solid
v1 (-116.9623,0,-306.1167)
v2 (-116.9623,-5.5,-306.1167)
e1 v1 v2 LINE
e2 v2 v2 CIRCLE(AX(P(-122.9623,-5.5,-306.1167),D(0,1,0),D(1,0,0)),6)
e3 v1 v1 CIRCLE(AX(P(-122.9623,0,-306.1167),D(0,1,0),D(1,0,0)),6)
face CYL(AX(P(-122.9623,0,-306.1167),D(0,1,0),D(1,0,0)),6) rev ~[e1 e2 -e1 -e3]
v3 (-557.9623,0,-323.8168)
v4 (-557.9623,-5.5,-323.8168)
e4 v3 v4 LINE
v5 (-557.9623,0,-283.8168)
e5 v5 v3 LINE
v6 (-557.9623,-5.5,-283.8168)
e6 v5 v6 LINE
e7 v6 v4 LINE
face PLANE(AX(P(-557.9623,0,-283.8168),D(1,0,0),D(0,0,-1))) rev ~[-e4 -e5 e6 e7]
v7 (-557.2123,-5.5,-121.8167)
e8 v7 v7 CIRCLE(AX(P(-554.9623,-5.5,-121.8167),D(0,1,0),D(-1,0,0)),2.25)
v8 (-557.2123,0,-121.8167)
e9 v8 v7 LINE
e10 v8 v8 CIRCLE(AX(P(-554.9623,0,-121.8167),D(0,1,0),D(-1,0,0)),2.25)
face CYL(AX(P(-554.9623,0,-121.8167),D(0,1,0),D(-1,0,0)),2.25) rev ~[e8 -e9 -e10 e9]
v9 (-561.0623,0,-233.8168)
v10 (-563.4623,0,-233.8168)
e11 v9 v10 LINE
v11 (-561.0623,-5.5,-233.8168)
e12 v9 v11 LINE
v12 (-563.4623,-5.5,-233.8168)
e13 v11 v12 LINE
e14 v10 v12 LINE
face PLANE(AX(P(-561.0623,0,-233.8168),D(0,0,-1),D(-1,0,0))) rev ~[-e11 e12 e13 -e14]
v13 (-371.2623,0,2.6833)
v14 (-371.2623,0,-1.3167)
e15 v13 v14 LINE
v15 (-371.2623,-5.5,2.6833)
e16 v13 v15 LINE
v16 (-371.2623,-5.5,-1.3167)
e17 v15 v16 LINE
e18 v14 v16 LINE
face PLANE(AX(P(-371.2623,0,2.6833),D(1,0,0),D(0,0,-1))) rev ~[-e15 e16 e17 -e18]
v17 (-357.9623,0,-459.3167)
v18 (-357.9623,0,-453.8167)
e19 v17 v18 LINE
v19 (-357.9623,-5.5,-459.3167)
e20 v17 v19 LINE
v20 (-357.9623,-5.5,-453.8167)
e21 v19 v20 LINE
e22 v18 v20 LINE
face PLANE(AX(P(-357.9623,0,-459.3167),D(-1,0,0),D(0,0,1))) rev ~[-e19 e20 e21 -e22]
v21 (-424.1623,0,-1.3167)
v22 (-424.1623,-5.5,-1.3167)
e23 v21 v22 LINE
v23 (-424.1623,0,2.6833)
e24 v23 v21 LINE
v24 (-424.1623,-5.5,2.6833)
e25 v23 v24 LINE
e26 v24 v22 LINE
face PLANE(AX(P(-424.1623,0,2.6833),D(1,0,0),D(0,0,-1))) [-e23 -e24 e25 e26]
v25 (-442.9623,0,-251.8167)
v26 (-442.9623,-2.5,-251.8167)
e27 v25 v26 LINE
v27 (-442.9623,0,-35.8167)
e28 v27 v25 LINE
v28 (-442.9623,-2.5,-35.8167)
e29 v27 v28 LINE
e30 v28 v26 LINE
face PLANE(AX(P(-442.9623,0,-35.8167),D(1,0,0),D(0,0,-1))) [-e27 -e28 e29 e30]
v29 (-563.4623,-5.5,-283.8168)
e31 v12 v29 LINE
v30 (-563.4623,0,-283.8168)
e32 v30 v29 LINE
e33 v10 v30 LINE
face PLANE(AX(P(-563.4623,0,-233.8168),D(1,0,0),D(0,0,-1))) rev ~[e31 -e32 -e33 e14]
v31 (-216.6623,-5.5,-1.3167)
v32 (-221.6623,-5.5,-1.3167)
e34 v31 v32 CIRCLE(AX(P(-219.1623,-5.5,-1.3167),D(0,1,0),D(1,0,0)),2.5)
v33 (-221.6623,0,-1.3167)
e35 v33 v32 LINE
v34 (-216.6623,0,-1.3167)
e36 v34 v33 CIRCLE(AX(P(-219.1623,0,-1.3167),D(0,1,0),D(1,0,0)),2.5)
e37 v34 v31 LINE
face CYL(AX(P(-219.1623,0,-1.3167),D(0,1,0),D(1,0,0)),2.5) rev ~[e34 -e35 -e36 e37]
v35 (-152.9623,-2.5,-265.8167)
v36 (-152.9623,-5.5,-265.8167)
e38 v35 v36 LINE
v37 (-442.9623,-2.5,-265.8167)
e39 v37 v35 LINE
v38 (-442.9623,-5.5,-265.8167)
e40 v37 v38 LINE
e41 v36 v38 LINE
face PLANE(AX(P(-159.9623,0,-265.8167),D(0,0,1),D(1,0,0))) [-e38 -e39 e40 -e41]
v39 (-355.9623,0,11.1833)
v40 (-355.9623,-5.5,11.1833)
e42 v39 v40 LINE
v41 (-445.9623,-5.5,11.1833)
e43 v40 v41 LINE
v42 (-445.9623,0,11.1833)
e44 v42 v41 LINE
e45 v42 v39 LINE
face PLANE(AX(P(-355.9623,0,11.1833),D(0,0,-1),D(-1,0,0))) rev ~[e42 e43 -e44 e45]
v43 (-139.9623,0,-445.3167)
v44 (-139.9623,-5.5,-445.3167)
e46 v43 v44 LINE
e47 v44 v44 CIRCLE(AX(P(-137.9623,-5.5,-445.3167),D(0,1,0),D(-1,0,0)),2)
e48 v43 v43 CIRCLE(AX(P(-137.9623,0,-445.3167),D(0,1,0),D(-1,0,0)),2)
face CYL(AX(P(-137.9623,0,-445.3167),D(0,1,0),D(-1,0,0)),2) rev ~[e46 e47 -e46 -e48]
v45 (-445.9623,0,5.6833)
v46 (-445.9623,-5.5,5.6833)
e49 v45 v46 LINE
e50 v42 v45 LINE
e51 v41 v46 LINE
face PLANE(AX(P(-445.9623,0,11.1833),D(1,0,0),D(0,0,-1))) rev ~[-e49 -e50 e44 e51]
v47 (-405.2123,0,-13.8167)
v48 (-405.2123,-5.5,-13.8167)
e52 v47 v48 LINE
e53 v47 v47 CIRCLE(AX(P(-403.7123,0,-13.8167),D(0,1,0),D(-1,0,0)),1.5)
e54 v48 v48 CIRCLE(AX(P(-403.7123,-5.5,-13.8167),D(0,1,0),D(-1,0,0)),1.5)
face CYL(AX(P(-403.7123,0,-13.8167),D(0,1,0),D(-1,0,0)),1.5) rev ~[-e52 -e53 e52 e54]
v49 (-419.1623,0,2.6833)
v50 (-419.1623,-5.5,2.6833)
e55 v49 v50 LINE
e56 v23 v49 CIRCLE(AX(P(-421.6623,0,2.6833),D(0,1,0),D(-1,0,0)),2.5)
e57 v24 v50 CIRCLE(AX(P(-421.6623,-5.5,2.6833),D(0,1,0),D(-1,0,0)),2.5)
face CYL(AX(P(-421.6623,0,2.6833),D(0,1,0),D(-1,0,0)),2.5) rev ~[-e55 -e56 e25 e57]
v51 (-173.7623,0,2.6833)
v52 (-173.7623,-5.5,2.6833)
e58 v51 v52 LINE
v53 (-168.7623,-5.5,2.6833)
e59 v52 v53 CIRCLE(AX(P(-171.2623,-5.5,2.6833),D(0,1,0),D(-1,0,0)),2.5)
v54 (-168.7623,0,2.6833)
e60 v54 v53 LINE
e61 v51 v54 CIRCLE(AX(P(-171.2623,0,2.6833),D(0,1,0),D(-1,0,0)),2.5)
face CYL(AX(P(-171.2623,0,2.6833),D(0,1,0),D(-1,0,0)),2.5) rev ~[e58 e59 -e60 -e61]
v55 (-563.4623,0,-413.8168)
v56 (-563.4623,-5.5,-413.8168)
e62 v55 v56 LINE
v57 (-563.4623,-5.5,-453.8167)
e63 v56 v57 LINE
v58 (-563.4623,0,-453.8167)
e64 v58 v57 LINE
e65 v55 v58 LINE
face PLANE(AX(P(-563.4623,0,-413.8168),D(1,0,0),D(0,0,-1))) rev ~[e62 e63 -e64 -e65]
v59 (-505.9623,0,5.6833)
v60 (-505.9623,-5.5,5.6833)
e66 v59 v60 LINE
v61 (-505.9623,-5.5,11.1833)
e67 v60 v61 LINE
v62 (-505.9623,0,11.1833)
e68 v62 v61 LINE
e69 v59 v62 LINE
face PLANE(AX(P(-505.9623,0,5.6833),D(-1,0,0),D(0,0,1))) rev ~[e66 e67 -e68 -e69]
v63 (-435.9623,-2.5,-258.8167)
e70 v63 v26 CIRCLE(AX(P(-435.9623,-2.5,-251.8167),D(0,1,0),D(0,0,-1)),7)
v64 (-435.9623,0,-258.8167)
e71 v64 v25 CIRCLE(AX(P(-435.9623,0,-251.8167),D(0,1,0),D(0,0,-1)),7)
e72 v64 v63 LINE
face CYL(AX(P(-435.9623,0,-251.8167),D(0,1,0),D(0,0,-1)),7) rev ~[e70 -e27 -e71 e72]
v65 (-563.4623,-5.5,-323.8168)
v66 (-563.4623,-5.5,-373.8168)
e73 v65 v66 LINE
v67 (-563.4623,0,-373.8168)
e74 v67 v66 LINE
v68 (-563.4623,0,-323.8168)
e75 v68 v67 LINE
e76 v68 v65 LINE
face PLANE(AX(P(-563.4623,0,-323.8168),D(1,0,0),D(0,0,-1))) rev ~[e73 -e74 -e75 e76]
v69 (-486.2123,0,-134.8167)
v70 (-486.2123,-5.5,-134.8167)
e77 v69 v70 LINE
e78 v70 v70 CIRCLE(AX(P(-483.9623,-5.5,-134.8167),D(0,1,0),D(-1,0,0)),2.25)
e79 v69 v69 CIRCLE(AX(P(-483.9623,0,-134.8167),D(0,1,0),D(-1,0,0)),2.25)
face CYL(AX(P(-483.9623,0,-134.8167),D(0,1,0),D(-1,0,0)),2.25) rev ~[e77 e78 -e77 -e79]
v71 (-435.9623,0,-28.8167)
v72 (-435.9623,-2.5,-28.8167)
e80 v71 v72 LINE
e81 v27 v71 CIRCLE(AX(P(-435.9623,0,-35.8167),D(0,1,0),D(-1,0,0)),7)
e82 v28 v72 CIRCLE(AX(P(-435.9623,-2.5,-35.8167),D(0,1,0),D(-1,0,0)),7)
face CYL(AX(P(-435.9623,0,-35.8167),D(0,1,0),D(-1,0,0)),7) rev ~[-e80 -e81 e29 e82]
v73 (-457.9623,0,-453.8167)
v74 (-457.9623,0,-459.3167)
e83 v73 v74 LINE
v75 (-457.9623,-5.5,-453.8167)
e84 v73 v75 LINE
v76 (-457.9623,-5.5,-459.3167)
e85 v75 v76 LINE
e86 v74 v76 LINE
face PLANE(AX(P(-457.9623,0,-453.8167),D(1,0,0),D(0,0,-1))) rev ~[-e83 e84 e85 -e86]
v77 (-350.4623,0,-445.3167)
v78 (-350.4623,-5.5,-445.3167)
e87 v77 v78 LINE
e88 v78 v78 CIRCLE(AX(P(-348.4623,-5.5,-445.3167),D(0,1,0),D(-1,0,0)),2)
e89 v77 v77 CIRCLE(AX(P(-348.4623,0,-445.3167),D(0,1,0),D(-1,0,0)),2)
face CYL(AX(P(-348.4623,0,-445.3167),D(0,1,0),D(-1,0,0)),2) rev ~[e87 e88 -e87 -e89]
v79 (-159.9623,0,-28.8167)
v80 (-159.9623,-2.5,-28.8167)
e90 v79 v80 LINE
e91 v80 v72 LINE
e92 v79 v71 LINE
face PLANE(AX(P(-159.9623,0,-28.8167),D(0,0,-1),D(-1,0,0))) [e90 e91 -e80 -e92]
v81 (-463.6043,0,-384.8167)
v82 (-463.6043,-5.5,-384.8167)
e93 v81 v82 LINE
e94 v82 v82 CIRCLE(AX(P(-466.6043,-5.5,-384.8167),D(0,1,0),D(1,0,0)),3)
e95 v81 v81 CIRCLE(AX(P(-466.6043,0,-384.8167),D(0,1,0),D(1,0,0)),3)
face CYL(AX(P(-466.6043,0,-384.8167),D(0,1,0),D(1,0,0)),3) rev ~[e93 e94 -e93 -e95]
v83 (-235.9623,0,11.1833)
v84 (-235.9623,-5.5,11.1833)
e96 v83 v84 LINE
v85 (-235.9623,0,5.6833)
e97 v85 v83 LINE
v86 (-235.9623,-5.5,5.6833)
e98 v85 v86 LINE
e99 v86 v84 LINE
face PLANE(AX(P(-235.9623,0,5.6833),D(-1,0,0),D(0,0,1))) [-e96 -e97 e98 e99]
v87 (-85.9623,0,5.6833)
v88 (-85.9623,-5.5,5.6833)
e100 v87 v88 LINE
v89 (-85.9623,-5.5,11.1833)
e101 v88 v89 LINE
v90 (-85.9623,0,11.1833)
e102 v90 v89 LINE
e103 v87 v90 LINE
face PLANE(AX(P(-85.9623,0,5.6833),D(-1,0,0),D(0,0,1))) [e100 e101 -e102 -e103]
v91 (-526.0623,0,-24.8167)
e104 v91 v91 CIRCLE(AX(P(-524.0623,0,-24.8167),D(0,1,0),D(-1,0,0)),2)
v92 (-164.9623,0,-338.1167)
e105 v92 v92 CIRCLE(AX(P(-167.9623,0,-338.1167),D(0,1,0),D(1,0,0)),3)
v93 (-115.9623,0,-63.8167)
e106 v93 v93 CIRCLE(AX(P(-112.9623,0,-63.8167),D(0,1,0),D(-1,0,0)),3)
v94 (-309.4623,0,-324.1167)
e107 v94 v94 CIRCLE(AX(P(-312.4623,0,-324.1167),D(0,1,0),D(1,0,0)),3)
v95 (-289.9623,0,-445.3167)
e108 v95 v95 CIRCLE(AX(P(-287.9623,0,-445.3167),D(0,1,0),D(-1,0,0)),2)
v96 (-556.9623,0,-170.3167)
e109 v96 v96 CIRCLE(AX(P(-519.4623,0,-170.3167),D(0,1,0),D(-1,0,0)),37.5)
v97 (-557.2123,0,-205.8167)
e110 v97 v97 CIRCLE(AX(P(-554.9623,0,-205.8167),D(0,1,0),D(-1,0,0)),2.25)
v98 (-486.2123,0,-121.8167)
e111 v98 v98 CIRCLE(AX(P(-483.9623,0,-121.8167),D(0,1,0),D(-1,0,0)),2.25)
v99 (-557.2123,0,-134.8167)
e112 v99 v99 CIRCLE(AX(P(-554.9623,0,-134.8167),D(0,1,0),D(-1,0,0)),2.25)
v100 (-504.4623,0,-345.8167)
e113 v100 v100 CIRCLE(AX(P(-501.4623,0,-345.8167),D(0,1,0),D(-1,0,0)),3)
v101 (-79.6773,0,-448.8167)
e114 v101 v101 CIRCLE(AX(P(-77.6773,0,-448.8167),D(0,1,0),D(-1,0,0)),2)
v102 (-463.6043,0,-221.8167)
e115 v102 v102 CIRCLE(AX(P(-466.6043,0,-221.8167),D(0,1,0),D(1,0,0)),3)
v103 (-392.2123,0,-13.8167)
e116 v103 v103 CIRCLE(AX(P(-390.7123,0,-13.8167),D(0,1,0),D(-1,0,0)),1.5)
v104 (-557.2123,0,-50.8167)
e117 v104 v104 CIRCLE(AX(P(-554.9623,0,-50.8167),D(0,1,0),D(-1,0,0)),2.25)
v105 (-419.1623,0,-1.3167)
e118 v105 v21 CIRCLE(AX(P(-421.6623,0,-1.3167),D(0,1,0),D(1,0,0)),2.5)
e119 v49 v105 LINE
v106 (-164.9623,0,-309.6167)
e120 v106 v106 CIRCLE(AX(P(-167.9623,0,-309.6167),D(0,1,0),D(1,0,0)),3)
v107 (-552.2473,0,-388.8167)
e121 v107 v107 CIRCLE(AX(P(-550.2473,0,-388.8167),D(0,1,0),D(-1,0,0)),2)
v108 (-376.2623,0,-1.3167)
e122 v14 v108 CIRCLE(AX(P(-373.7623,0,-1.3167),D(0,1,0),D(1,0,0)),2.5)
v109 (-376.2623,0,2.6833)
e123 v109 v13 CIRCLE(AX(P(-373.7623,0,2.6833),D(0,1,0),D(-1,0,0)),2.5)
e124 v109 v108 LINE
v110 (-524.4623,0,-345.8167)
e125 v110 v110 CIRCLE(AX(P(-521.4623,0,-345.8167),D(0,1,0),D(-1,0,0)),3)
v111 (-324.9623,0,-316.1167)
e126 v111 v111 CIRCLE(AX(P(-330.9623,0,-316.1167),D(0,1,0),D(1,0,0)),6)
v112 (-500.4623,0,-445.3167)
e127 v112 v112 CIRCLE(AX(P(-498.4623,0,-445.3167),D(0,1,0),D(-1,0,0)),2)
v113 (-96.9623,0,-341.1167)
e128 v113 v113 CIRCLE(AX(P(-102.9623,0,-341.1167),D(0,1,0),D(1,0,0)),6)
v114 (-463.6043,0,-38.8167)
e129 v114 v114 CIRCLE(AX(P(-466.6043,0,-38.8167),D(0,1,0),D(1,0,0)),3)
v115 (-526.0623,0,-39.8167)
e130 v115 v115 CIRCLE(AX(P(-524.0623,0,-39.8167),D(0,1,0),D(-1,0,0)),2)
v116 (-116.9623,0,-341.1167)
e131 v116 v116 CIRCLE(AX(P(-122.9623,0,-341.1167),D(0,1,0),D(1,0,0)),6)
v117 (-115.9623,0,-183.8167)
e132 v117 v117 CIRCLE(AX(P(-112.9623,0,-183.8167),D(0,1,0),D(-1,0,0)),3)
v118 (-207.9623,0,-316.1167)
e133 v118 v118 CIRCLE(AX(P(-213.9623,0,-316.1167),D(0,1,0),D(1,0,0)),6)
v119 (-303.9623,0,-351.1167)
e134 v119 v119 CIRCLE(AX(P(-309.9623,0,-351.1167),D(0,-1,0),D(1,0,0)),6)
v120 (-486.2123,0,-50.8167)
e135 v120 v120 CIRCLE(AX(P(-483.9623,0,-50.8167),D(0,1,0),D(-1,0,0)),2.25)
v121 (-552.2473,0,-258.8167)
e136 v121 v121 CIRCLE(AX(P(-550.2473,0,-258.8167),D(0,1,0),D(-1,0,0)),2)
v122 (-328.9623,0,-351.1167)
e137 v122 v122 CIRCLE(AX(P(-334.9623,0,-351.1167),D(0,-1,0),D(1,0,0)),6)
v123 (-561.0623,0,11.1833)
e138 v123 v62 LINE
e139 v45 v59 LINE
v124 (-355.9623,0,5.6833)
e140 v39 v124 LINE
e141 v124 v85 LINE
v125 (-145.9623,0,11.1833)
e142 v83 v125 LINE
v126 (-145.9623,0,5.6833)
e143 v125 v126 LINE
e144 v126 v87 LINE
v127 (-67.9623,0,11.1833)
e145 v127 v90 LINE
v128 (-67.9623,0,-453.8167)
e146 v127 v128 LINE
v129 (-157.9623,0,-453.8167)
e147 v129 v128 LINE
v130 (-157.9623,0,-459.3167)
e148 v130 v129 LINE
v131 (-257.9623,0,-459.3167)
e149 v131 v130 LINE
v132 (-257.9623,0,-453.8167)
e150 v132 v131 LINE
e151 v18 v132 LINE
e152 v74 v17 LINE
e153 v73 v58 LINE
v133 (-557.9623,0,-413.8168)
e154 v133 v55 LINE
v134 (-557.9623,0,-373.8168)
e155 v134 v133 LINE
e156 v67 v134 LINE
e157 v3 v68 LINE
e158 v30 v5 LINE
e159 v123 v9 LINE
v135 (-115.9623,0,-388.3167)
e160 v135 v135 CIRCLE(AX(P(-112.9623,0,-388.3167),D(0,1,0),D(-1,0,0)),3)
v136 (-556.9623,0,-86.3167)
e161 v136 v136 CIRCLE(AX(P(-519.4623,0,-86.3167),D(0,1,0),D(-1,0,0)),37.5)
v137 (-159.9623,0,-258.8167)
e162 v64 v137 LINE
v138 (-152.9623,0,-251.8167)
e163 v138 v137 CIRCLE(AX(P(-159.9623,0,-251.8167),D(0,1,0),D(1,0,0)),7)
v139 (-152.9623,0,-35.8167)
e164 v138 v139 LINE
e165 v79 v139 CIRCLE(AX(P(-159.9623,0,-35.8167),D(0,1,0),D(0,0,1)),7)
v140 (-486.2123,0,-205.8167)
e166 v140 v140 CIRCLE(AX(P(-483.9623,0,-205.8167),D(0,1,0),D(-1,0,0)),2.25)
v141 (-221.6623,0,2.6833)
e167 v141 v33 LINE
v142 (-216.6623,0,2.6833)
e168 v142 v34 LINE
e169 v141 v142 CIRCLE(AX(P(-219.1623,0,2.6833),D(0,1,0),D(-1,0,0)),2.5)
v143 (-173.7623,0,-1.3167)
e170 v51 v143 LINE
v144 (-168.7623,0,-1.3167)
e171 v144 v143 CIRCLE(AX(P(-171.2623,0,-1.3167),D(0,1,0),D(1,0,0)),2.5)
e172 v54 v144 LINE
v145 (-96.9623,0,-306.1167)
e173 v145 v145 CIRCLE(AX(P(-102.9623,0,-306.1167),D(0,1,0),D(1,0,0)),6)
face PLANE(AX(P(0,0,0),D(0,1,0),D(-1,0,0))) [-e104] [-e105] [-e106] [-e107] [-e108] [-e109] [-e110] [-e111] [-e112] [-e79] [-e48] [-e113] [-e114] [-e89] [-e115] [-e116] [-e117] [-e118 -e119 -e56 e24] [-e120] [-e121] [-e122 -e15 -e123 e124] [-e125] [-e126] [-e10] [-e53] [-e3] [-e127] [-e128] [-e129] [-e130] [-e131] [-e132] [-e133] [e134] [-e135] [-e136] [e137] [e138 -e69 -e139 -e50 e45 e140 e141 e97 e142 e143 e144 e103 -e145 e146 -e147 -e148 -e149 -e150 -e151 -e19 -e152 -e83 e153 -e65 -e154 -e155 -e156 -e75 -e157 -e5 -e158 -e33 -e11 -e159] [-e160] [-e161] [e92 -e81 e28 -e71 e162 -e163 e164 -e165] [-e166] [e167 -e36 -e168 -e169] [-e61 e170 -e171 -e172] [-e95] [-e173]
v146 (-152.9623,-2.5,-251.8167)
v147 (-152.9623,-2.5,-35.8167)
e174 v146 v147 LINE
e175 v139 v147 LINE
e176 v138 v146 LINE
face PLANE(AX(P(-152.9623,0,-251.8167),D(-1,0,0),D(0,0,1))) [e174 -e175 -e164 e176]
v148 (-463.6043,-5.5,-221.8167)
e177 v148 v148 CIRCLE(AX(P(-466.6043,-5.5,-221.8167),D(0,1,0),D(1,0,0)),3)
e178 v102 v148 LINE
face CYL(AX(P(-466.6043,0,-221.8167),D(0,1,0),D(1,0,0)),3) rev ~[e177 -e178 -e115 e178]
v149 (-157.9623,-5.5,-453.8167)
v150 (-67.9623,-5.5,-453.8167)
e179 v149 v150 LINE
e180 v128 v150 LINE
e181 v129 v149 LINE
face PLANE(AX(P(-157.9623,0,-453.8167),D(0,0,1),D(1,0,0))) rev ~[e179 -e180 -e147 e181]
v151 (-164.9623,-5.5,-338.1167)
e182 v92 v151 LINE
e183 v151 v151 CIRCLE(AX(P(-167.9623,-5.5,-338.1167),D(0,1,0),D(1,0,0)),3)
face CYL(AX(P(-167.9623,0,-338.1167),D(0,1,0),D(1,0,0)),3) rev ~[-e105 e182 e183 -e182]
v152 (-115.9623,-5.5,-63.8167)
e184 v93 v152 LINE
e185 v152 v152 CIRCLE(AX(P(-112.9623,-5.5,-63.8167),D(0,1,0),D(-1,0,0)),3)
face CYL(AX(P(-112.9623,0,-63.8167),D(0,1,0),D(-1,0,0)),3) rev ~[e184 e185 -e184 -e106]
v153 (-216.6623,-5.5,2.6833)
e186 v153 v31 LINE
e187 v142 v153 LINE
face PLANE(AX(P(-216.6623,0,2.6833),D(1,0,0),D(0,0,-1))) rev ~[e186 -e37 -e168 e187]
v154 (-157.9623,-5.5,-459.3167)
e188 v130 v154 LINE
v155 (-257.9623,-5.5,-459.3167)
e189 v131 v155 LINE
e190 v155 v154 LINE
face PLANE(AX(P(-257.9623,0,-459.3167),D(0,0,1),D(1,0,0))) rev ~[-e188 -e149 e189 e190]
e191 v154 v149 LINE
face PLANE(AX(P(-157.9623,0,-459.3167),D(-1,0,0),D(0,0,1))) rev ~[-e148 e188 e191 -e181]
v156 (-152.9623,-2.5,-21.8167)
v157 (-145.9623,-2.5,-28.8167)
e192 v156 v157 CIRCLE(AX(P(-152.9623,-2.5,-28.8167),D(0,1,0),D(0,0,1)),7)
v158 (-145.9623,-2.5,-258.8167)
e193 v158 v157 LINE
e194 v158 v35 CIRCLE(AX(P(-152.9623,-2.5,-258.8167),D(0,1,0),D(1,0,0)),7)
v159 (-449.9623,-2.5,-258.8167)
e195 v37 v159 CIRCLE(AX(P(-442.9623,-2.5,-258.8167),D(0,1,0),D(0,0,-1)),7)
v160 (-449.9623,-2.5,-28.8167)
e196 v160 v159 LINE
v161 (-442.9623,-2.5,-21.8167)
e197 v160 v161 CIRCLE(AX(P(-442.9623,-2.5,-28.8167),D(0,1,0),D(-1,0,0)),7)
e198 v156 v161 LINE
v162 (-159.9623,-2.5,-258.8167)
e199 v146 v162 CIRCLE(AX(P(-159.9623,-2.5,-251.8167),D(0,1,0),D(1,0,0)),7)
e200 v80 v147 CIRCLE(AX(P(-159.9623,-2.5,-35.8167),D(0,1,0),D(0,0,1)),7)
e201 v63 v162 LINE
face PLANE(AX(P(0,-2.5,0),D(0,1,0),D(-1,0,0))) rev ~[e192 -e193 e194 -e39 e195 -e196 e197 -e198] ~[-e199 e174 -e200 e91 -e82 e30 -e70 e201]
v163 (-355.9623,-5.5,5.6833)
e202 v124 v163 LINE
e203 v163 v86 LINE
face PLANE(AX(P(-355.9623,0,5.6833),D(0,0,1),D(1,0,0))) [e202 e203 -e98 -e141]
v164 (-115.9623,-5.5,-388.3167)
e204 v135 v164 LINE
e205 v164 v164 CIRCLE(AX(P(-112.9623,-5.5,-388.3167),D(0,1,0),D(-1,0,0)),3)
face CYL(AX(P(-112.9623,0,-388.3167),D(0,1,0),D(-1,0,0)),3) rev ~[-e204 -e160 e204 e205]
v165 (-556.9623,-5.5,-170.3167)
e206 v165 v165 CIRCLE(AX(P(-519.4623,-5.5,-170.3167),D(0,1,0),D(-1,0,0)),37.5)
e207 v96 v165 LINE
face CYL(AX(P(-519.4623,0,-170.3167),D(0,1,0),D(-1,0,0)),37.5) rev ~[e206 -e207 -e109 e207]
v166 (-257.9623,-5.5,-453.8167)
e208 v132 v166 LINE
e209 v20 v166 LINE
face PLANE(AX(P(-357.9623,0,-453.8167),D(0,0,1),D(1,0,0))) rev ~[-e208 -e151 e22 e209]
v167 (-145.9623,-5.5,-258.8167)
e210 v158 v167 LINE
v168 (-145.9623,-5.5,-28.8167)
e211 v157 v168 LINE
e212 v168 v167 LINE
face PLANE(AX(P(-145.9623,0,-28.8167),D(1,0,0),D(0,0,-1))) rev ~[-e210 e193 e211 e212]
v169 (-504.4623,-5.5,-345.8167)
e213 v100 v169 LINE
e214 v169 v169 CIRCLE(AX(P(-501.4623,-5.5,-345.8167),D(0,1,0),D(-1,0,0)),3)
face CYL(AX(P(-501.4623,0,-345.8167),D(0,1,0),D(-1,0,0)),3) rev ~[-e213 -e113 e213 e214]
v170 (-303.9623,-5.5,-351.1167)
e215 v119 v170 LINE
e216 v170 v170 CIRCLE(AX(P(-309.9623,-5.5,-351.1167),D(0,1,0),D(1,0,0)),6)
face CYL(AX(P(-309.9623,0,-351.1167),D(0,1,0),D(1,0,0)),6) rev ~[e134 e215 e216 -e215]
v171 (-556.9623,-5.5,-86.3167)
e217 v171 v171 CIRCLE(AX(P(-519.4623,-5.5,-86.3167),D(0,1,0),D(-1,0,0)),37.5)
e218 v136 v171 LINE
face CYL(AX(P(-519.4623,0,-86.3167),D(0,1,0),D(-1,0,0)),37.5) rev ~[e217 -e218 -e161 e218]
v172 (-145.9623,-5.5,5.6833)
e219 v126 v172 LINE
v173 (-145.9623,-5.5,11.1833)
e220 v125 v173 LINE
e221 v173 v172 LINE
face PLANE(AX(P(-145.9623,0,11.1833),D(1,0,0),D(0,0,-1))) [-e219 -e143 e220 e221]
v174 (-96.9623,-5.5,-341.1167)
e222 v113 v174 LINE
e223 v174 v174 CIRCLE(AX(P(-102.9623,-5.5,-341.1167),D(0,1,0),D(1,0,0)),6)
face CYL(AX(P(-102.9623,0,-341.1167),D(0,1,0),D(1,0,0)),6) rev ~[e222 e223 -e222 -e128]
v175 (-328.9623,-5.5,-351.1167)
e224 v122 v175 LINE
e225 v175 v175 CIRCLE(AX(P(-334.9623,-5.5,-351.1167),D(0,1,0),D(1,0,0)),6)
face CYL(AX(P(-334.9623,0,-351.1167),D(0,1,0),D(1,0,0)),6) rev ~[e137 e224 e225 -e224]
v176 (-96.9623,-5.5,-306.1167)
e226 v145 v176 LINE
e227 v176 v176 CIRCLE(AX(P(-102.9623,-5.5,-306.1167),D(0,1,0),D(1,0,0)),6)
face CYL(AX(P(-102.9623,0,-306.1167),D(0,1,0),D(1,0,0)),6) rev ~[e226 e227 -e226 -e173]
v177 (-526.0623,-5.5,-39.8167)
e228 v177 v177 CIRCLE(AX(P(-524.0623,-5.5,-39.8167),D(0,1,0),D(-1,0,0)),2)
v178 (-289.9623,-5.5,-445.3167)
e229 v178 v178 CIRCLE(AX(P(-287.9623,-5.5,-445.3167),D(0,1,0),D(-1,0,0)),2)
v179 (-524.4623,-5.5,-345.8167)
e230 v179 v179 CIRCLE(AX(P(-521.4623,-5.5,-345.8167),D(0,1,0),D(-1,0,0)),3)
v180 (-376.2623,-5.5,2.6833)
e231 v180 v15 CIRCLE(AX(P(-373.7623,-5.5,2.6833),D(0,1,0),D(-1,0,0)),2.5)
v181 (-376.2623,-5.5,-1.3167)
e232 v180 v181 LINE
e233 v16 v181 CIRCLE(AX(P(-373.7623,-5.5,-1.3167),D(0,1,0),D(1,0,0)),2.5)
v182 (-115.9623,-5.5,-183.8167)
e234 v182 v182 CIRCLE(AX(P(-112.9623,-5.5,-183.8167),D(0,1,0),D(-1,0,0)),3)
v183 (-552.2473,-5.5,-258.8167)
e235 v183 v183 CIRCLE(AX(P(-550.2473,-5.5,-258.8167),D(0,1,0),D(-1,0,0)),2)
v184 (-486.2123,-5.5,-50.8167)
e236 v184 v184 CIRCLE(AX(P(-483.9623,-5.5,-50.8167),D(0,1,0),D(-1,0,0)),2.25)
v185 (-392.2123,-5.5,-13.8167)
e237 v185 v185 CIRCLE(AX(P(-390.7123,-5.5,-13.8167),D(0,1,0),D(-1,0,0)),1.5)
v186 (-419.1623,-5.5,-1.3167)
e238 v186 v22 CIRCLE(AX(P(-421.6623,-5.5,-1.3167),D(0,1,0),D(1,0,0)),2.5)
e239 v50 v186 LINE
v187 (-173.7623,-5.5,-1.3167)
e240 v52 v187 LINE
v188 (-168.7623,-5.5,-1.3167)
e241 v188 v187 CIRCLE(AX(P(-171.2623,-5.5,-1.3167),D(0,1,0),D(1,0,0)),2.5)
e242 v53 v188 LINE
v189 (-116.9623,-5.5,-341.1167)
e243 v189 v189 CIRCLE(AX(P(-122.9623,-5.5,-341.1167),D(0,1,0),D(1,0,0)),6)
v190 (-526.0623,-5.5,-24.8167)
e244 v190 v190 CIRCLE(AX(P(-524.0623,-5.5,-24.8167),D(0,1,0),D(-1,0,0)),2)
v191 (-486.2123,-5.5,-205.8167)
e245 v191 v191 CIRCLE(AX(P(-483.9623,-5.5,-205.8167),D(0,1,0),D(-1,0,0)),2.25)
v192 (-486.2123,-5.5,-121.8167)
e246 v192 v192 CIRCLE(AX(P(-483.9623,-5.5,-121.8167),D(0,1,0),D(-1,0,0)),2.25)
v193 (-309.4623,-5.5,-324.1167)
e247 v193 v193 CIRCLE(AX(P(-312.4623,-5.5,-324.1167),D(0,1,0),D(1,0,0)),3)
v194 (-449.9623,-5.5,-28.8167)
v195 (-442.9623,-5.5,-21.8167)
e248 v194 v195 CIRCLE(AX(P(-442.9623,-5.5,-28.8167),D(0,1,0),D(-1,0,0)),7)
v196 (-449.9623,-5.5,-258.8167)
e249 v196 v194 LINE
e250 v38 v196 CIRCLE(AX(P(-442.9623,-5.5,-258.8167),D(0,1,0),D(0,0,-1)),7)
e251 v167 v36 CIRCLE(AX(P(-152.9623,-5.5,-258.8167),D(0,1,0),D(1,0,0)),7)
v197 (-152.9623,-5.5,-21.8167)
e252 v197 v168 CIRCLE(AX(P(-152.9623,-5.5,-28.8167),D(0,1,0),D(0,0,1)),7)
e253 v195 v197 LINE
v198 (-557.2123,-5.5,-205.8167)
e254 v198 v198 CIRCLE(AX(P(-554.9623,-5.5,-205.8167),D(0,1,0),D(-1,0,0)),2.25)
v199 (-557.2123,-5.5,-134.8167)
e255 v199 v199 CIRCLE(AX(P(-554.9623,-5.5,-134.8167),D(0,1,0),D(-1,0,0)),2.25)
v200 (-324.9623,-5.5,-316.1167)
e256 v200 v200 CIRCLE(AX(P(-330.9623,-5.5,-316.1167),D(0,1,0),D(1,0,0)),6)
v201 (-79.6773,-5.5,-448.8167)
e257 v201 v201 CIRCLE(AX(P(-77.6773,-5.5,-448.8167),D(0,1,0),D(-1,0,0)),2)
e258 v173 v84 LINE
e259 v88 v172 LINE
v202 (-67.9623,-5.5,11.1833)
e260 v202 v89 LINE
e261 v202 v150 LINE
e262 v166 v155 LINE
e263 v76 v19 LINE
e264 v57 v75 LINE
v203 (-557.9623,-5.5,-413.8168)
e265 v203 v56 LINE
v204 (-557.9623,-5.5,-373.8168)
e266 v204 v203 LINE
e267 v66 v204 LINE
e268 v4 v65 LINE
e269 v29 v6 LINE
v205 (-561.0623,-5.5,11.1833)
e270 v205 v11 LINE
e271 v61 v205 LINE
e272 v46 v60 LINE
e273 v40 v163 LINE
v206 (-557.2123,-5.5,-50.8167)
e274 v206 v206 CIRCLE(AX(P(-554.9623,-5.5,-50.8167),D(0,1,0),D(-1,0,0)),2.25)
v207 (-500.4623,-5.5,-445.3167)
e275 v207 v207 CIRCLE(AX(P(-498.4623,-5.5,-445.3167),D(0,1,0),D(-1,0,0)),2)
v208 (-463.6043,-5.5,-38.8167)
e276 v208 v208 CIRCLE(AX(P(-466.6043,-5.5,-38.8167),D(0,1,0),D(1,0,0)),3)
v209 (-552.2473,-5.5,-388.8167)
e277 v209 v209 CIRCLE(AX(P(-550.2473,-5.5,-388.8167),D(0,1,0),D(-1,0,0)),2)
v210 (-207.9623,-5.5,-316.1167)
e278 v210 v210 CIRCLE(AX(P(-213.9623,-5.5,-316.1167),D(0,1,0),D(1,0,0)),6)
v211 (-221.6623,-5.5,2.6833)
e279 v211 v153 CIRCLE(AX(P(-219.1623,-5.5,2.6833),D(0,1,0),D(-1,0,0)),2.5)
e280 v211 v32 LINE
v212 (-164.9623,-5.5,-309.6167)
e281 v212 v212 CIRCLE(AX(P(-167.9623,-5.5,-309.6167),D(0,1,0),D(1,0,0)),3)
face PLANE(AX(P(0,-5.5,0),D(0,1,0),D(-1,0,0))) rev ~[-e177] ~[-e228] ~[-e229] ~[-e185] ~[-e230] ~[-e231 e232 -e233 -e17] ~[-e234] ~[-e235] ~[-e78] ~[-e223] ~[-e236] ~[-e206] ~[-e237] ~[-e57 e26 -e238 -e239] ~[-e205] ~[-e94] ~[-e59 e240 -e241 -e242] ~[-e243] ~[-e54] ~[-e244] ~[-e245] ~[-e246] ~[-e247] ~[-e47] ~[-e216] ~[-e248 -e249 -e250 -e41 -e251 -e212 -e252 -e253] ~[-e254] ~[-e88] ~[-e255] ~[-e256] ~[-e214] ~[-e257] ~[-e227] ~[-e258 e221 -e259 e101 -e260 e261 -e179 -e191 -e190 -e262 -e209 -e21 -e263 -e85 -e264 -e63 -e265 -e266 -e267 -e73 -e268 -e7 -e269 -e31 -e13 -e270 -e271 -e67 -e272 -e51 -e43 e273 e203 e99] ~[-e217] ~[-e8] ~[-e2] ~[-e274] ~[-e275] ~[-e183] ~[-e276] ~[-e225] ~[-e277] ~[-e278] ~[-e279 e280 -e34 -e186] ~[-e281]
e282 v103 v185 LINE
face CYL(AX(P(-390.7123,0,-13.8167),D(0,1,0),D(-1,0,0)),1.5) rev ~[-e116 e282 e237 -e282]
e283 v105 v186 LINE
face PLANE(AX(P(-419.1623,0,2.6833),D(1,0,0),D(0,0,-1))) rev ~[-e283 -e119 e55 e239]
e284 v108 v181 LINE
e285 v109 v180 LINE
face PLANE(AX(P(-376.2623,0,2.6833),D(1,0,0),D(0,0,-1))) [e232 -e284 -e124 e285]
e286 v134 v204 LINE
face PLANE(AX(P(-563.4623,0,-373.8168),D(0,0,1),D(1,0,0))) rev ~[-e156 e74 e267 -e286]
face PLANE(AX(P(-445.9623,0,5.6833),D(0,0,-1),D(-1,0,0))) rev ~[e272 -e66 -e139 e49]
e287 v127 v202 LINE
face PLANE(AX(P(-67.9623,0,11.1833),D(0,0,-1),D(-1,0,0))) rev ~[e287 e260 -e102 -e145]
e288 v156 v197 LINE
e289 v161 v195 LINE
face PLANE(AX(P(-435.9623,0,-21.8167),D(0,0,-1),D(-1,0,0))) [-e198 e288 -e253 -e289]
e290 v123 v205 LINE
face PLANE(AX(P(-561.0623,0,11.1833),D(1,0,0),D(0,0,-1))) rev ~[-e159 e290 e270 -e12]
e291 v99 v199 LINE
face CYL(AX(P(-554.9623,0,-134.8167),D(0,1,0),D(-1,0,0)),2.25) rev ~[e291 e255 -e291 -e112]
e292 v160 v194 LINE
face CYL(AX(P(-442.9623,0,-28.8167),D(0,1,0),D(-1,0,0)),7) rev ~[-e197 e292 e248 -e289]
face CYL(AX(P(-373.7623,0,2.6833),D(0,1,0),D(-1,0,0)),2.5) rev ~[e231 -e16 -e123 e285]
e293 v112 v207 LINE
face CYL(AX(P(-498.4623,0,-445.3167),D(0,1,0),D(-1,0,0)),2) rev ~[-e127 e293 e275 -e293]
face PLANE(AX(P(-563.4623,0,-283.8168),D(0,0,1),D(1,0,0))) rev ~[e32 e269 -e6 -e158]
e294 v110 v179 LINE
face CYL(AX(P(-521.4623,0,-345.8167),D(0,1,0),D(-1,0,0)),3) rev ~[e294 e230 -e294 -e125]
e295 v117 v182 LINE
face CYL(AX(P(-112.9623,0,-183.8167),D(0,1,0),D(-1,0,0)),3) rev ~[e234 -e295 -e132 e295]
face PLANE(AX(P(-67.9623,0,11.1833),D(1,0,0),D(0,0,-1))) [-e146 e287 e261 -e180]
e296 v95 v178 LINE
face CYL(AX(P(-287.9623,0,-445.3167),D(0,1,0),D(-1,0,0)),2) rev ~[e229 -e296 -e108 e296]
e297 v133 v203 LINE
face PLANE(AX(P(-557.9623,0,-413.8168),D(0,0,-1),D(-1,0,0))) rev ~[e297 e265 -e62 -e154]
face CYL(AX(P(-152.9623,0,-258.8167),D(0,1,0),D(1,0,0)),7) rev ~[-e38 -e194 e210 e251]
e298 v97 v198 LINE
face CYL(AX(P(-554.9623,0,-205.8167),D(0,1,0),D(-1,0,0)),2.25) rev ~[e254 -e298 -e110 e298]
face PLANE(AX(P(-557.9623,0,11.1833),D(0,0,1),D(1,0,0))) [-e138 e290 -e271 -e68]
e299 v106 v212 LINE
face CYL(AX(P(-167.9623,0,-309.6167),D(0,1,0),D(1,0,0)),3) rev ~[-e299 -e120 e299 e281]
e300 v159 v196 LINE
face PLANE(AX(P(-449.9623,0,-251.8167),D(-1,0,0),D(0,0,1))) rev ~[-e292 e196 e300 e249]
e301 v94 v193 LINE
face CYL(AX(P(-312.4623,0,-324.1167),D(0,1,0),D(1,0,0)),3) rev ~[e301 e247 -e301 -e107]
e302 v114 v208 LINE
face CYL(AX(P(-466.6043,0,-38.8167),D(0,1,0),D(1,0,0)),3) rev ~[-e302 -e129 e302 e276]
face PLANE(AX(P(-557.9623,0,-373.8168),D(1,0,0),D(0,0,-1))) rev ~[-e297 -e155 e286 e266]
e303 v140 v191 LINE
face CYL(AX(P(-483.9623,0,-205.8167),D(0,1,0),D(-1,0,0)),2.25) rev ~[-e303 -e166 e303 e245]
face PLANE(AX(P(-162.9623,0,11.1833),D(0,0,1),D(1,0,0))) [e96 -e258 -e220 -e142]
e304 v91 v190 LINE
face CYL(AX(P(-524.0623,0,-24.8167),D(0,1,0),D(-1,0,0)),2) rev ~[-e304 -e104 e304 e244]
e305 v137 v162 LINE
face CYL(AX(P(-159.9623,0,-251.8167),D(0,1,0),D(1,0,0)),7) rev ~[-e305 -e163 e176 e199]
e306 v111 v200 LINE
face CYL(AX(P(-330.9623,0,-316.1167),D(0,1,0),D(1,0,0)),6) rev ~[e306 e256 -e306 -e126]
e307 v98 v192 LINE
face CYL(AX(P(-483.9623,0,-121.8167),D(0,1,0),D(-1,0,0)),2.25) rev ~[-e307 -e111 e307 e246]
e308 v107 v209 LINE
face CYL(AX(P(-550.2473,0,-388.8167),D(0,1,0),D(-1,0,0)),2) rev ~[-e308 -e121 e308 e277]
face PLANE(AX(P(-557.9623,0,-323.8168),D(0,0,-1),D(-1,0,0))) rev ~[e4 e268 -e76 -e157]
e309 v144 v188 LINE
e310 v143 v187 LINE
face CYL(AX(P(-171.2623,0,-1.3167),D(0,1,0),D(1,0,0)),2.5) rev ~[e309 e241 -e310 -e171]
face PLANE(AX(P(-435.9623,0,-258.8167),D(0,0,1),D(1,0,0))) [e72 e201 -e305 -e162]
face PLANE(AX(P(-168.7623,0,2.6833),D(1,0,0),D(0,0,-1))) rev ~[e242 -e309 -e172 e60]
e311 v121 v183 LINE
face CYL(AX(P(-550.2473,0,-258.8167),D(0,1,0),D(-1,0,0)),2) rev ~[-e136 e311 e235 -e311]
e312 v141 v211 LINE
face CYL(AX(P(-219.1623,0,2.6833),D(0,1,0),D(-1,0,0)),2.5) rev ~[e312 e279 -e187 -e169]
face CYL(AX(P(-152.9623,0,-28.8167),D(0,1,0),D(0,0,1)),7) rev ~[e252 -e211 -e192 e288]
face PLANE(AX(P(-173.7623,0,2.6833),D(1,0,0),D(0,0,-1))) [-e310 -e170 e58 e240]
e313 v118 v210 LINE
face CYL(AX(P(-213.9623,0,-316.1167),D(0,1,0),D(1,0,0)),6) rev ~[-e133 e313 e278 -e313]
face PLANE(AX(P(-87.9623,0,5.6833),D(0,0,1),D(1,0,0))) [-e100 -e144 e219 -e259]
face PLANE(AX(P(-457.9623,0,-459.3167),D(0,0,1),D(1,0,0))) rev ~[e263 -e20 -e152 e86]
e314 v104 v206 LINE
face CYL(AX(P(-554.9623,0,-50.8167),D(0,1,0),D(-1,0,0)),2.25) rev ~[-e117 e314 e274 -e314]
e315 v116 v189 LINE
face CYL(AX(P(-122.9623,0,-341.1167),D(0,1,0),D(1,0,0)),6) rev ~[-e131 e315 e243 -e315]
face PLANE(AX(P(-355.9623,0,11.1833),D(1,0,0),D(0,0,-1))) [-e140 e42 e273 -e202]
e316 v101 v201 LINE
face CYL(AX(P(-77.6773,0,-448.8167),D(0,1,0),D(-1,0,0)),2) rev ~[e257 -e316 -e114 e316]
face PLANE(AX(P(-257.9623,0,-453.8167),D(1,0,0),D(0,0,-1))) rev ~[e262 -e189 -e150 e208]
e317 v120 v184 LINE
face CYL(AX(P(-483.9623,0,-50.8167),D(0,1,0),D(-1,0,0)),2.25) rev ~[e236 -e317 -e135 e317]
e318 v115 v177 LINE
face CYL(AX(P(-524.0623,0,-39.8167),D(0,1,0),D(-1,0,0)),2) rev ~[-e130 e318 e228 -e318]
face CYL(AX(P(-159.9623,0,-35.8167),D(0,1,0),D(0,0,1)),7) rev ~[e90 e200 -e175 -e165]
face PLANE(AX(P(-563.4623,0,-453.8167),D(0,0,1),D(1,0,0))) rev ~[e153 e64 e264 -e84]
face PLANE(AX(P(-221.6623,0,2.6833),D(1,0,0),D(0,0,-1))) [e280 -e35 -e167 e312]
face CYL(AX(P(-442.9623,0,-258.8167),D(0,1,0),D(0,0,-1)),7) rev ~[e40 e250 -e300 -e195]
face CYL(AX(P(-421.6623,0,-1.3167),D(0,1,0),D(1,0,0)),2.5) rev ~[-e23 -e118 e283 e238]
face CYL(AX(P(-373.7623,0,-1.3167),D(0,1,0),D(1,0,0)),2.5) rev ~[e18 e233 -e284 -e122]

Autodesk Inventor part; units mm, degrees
ref_plane "YZ Plane" through (0, 0, 0) normal (1, 0, 0) x (0, 1, 0)
ref_plane "XZ Plane" through (0, 0, 0) normal (0, 1, 0) x (-1, 0, 0)
ref_plane "XY Plane" through (0, 0, 0) normal (0, 0, 1) x (1, 0, 0)
sketch "Boceto1" plane through (0, 0, 0) normal (0, 1, 0) x (-1, 0, 0)
  line L0 (67.9623, 11.1833) -> (67.9623, -453.8167)
  line L1 (435.9623, -258.8167) -> (159.9623, -258.8167)
  line L2 (152.9623, -251.8167) -> (152.9623, -35.8167)
  line L3 (159.9623, -28.8167) -> (435.9623, -28.8167)
  line L4 (442.9623, -35.8167) -> (442.9623, -251.8167)
  arc A0 (435.9623, -258.8167) -> (442.9623, -251.8167) centre (435.9623, -251.8167) ccw
  arc A1 (442.9623, -35.8167) -> (435.9623, -28.8167) centre (435.9623, -35.8167) ccw
  arc A2 (159.9623, -28.8167) -> (152.9623, -35.8167) centre (159.9623, -35.8167) ccw
  arc A3 (152.9623, -251.8167) -> (159.9623, -258.8167) centre (159.9623, -251.8167) ccw
  line L5 (449.9623, -251.8167) -> (449.9623, -35.8167)
  line L6 (435.9623, -21.8167) -> (159.9623, -21.8167)
  line L7 (145.9623, -35.8167) -> (145.9623, -251.8167)
  line L8 (159.9623, -265.8167) -> (435.9623, -265.8167)
  line L9 (159.9623, -265.8167) -> (152.9623, -265.8167)
  line L10 (145.9623, -258.8167) -> (145.9623, -251.8167)
  line L11 (159.9623, -21.8167) -> (152.9623, -21.8167)
  line L12 (145.9623, -28.8167) -> (145.9623, -35.8167)
  line L13 (435.9623, -21.8167) -> (442.9623, -21.8167)
  line L14 (449.9623, -28.8167) -> (449.9623, -35.8167)
  line L15 (449.9623, -251.8167) -> (449.9623, -258.8167)
  line L16 (442.9623, -265.8167) -> (435.9623, -265.8167)
  arc A4 (449.9623, -28.8167) -> (442.9623, -21.8167) centre (442.9623, -28.8167) ccw
  arc A5 (442.9623, -265.8167) -> (449.9623, -258.8167) centre (442.9623, -258.8167) ccw
  arc A6 (145.9623, -258.8167) -> (152.9623, -265.8167) centre (152.9623, -258.8167) ccw
  arc A7 (152.9623, -21.8167) -> (145.9623, -28.8167) centre (152.9623, -28.8167) ccw
  line L17 (557.9623, -453.8167) -> (457.9623, -453.8167)
  line L18 (457.9623, -453.8167) -> (457.9623, -459.3167)
  line L19 (457.9623, -459.3167) -> (357.9623, -459.3167)
  line L20 (357.9623, -459.3167) -> (357.9623, -453.8167)
  line L21 (357.9623, -453.8167) -> (257.9623, -453.8167)
  line L22 (257.9623, -453.8167) -> (257.9623, -459.3167)
  line L23 (257.9623, -459.3167) -> (157.9623, -459.3167)
  line L24 (157.9623, -459.3167) -> (157.9623, -453.8167)
  line L25 (157.9623, -453.8167) -> (67.9623, -453.8167)
  line L26 (157.9623, -459.3167) -> (257.9623, -459.3167)
  line L27 (357.9623, -459.3167) -> (457.9623, -459.3167)
  line L28 (355.9623, 11.1833) -> (355.9623, 5.6833)
  line L29 (355.9623, 5.6833) -> (235.9623, 5.6833)
  line L30 (235.9623, 5.6833) -> (235.9623, 11.1833)
  line L31 (67.9623, 11.1833) -> (85.9623, 11.1833)
  circle A8 centre (112.9623, -63.8167) radius 3
  circle A9 centre (112.9623, -183.8167) radius 3
  line L32 (67.9623, 11.1833) -> (85.9623, 11.1833)
  line L33 (87.9623, 5.6833) -> (87.9623, -422.8167)
  line L34 (87.9623, -422.8167) -> (137.9623, -422.8167)
  line L35 (137.9623, -422.8167) -> (137.9623, 5.6833)
  circle A10 centre (112.9623, -388.3167) radius 3
  line L36 (557.9623, 11.1833) -> (560.4623, 11.1833)
  line L37 (563.4623, -233.8168) -> (563.4623, -283.8168)
  line L38 (563.4623, -283.8168) -> (557.9623, -283.8168)
  line L39 (557.9623, -283.8168) -> (557.9623, -323.8168)
  line L40 (557.9623, -323.8168) -> (563.4623, -323.8168)
  line L41 (563.4623, -323.8168) -> (563.4623, -373.8168)
  line L42 (563.4623, -373.8168) -> (557.9623, -373.8168)
  line L43 (557.9623, -373.8168) -> (557.9623, -413.8168)
  line L44 (557.9623, -413.8168) -> (563.4623, -413.8168)
  line L45 (563.4623, -413.8168) -> (563.4623, -453.8167)
  line L46 (426.4606, 11.1833) -> (362.9606, 11.1833)
  arc A11 (376.2623, 2.6833) -> (371.2623, 2.6833) centre (373.7623, 2.6833) ccw
  arc A12 (399.7123, 1.6833) -> (394.7123, 1.6833) centre (397.2123, 1.6833) ccw
  arc A13 (424.1623, 2.6833) -> (419.1623, 2.6833) centre (421.6623, 2.6833) ccw
  line L47 (371.2623, 2.6833) -> (371.2623, -1.3167)
  line L48 (376.2623, 2.6833) -> (376.2623, -1.3167)
  arc A14 (371.2623, -1.3167) -> (376.2623, -1.3167) centre (373.7623, -1.3167) ccw
  line L49 (419.1623, 2.6833) -> (419.1623, -1.3167)
  line L50 (424.1623, 2.6833) -> (424.1623, -1.3167)
  arc A15 (419.1623, -1.3167) -> (424.1623, -1.3167) centre (421.6623, -1.3167) ccw
  line L51 (394.7123, 1.6833) -> (394.7123, -1.8167)
  line L52 (399.7123, 1.6833) -> (399.7123, -1.8167)
  arc A16 (394.7123, -1.8167) -> (399.7123, -1.8167) centre (397.2123, -1.8167) ccw
  line L53 (162.9623, 11.1833) -> (226.4623, 11.1833)
  arc A17 (221.6623, 2.6833) -> (216.6623, 2.6833) centre (219.1623, 2.6833) ccw
  arc A18 (197.2123, 1.6833) -> (192.2123, 1.6833) centre (194.7123, 1.6833) ccw
  arc A19 (173.7623, 2.6833) -> (168.7623, 2.6833) centre (171.2623, 2.6833) ccw
  line L54 (221.6623, 2.6833) -> (221.6623, -1.3167)
  line L55 (216.6623, 2.6833) -> (216.6623, -1.3167)
  arc A20 (216.6623, -1.3167) -> (221.6623, -1.3167) centre (219.1623, -1.3167) ccw
  line L56 (173.7623, 2.6833) -> (173.7623, -1.3167)
  line L57 (168.7623, 2.6833) -> (168.7623, -1.3167)
  arc A21 (168.7623, -1.3167) -> (173.7623, -1.3167) centre (171.2623, -1.3167) ccw
  line L58 (197.2123, 1.6833) -> (197.2123, -1.8167)
  line L59 (192.2123, 1.6833) -> (192.2123, -1.8167)
  arc A22 (192.2123, -1.8167) -> (197.2123, -1.8167) centre (194.7123, -1.8167) ccw
  line L60 (563.4623, -453.8167) -> (557.9623, -453.8167)
  circle A23 centre (498.4623, -445.3167) radius 2
  circle A24 centre (348.4623, -445.3167) radius 2
  circle A25 centre (137.9623, -445.3167) radius 2
  circle A26 centre (287.9623, -445.3167) radius 2
  circle A27 centre (550.2473, -388.8167) radius 2
  circle A28 centre (550.2473, -258.8167) radius 2
  circle A29 centre (77.6773, -448.8167) radius 2
  line L61 (355.9623, 11.1833) -> (445.9623, 11.1833)
  line L62 (445.9623, 11.1833) -> (445.9623, 5.6833)
  line L63 (445.9623, 5.6833) -> (505.9623, 5.6833)
  line L64 (505.9623, 5.6833) -> (505.9623, 11.1833)
  line L65 (557.9623, 11.1833) -> (505.9623, 11.1833)
  line L66 (445.9623, 11.1833) -> (355.9623, 11.1833)
  line L67 (235.9623, 11.1833) -> (145.9623, 11.1833)
  line L68 (145.9623, 11.1833) -> (145.9623, 5.6833)
  line L69 (145.9623, 5.6833) -> (85.9623, 5.6833)
  line L70 (85.9623, 5.6833) -> (85.9623, 11.1833)
  line L71 (235.9623, 11.1833) -> (145.9623, 11.1833)
  line L72 (85.9623, 11.1833) -> (67.9623, 11.1833)
  circle A30 centre (403.7123, -13.8167) radius 1.5
  circle A31 centre (390.7123, -13.8167) radius 1.5
  circle A32 centre (554.9623, -50.8167) radius 2.25
  circle A33 centre (554.9623, -121.8167) radius 2.25
  circle A34 centre (554.9623, -134.8167) radius 2.25
  circle A35 centre (554.9623, -205.8167) radius 2.25
  circle A36 centre (483.9623, -50.8167) radius 2.25
  circle A37 centre (483.9623, -121.8167) radius 2.25
  circle A38 centre (483.9623, -134.8167) radius 2.25
  circle A39 centre (483.9623, -205.8167) radius 2.25
  circle A40 centre (519.4623, -86.3167) radius 37.5
  circle A41 centre (519.4623, -170.3167) radius 37.5
  line L73 (560.4623, 11.1833) -> (561.0623, 11.1833)
  line L74 (561.0623, 11.1833) -> (561.0623, -233.8168)
  line L75 (561.0623, -233.8168) -> (563.4623, -233.8168)
  circle A42 centre (521.4623, -345.8167) radius 3
  circle A43 centre (501.4623, -345.8167) radius 3
  circle A44 centre (524.0623, -39.8167) radius 2
  circle A45 centre (524.0623, -24.8167) radius 2
  point P0 (145.9623, -21.8167)
  point P1 (449.9623, -21.8167)
  point P2 (449.9623, -265.8167)
  point P3 (0, 0)
  point P4 (0, 0)
  point P5 (426.4606, 11.1833)
  point P6 (362.9606, 11.1833)
  dimension "d217" = 85
  dimension "d219" = 7
  dimension "d232" = 230
  dimension "d233" = 7
  dimension "d234" = 7
  dimension "d236" = 100
  dimension "d237" = 100
  dimension "d238" = 100
  dimension "d239" = 100
  dimension "d241" = 465
  dimension "d288" = 202
  dimension "d289" = 5.5
  dimension "d292" = 168
  dimension "d312" = 6
  dimension "d314" = 6
  dimension "d319" = 120
  dimension "d325" = 50
  dimension "d326" = 25
  dimension "d327" = 25
  dimension "d328" = 6
  dimension "d329" = 25
  dimension "d332" = 34.5
  dimension "d333" = 2.5
  dimension "d336" = 27.5
  dimension "d337" = 7
  dimension "d338" = 7
  dimension "d339" = 5.5
  dimension "d344" = 465
  dimension "d347" = 50
  dimension "d348" = 40
  dimension "d349" = 50
  dimension "d350" = 40
  dimension "d384" = 5
  dimension "d385" = 5
  dimension "d386" = 5
  dimension "d394" = 4
  dimension "d395" = 4
  dimension "d396" = 4
  dimension "d397" = 4
  dimension "d398" = 3.5
  dimension "d399" = 3.5
  dimension "d404" = 15.3
  dimension "d405" = 120
  dimension "d406" = 495.5
  dimension "d420" = 5.5
  dimension "d423" = 4
  dimension "d424" = 65
  dimension "d425" = 8.5
  dimension "d426" = 4
  dimension "d427" = 150
  dimension "d428" = 4
  dimension "d429" = 8.5
  dimension "d430" = 70
  dimension "d431" = 4
  dimension "d432" = 150
  dimension "d435" = 4
  dimension "d436" = 4
  dimension "d437" = 7.715
  dimension "d438" = 7.715
  dimension "d439" = 65
  dimension "d440" = 130
  dimension "d442" = 4
  dimension "d443" = 5
  dimension "d444" = 9.715
extrude "Extrusión1" add sketch "Boceto1" against normal blind 5.5 contours L31 L70 L69 L33 L34 L35 L68 L67 L53 L30 L29 L28 L61 L46 L62 L63 L64 L65 L36 L73 L74 L75 L37 L38 L39 L40 L41 L42 L43 L44 L45 L60 L17 L18 L19 L20 L21 L22 L23 L24 L25 L0 | L69 L35 L34 L33 | L52 A16 L51 A12 | L58 A22 L59 A18
extrude "Extrusión4" add sketch "Boceto1" against normal blind 2.5 contours L15 A5 L16 L8 L9 A6 L10 L7 L12 A7 L11 L6 L13 A4 L14 L5
sketch "Boceto2" plane through (0, 0, 0) normal (0, 1, 0) x (1, 0, 0)
  line L0 (-347.4623, 291.6167) -> (-87.9623, 291.6167)
  line L1 (-87.9623, 291.6167) -> (-87.9623, 356.1167)
  line L2 (-347.4623, 291.6167) -> (-347.4623, 356.1167)
  line L3 (-347.4623, 356.1167) -> (-87.9623, 356.1167)
  line L4 (-67.9623, -11.1833) -> (-67.9623, 453.8167) projected
  circle A0 centre (-122.9623, 306.1167) radius 6
  circle A1 centre (-122.9623, 341.1167) radius 6
  circle A2 centre (-102.9623, 341.1167) radius 6
  circle A3 centre (-102.9623, 306.1167) radius 6
  circle A4 centre (-213.9623, 316.1167) radius 6
  circle A5 centre (-330.9623, 316.1167) radius 6
  line L5 (-347.4623, 356.1167) -> (-347.4623, 351.1167)
  circle A6 centre (-334.9623, 351.1167) radius 6
  circle A7 centre (-309.9623, 351.1167) radius 6
  line L6 (-435.9623, 258.8167) -> (-159.9623, 258.8167) projected
  line L7 (-257.9623, 453.8167) -> (-357.9623, 453.8167) projected
  circle A8 centre (-167.9623, 309.6167) radius 3
  circle A9 centre (-167.9623, 338.1167) radius 3
  circle A10 centre (-312.4623, 324.1167) radius 3
  point P0 (0, 0)
  point P1 (-13.9376, -9.2183)
  dimension "d130" = 259.5
  dimension "d131" = 64.5
  dimension "d132" = 20
  dimension "d134" = 12
  dimension "d135" = 12
  dimension "d136" = 12
  dimension "d137" = 12
  dimension "d140" = 20
  dimension "d141" = 15
  dimension "d144" = 20
  dimension "d145" = 15
  dimension "d146" = 12
  dimension "d147" = 12
  dimension "d150" = 126
  dimension "d151" = 243
  dimension "d157" = 12
  dimension "d158" = 12
  dimension "d227" = 35
  dimension "d228" = 35
  dimension "d297" = 6
  dimension "d298" = 6
  dimension "d300" = 6
  dimension "d301" = 80
  dimension "d302" = 80
  dimension "d303" = 18
  dimension "d304" = 18
  dimension "d307" = 32
  dimension "d308" = 35
  dimension "d340" = 32.8
  dimension "d445" = 5
  dimension "d446" = 5
  dimension "d447" = 12.5
  dimension "d448" = 37.5
  dimension "d449" = 15
  dimension "d450" = 15
  dimension "d451" = 40
  dimension "d452" = 40
extrude "Extrusión5" cut sketch "Boceto2" against normal blind 10 contours A7 L3 | L3 A7 | A6 L3 | L3 A6 | A0 | A1 | A2 | A3 | A4 | A5 | A8 | A9 | A10
sketch "Boceto3" plane through (0, 0, 0) normal (0, 1, 0) x (1, 0, 0)
  circle A0 centre (-466.6043, 38.8167) radius 3
  circle A1 centre (-466.6043, 221.8167) radius 3
  circle A2 centre (-466.6043, 384.8167) radius 3
  line L0 (-557.9623, 413.8168) -> (-557.9623, 373.8168) projected
  line L1 (-563.4623, 283.8168) -> (-563.4623, 233.8168) projected
  line L2 (-561.0623, -11.1833) -> (-505.9623, -11.1833) projected
  line L3 (-563.4623, 373.8168) -> (-563.4623, 323.8168) projected
  point P0 (0, 0)
  point P1 (-355.9623, -11.1833)
  dimension "d207" = 6
  dimension "d208" = 6
  dimension "d209" = 6
  dimension "d352" = 183
  dimension "d353" = 163
  dimension "d464" = 96.858
  dimension "d465" = 96.858
  dimension "d496" = 50
  dimension "d505" = 96.858
extrude "Extrusión6" cut sketch "Boceto3" against normal blind 10
properties part number "Lateral Izquierdo Carcasa" material "MDF Tablero de fibras de densidad media"
